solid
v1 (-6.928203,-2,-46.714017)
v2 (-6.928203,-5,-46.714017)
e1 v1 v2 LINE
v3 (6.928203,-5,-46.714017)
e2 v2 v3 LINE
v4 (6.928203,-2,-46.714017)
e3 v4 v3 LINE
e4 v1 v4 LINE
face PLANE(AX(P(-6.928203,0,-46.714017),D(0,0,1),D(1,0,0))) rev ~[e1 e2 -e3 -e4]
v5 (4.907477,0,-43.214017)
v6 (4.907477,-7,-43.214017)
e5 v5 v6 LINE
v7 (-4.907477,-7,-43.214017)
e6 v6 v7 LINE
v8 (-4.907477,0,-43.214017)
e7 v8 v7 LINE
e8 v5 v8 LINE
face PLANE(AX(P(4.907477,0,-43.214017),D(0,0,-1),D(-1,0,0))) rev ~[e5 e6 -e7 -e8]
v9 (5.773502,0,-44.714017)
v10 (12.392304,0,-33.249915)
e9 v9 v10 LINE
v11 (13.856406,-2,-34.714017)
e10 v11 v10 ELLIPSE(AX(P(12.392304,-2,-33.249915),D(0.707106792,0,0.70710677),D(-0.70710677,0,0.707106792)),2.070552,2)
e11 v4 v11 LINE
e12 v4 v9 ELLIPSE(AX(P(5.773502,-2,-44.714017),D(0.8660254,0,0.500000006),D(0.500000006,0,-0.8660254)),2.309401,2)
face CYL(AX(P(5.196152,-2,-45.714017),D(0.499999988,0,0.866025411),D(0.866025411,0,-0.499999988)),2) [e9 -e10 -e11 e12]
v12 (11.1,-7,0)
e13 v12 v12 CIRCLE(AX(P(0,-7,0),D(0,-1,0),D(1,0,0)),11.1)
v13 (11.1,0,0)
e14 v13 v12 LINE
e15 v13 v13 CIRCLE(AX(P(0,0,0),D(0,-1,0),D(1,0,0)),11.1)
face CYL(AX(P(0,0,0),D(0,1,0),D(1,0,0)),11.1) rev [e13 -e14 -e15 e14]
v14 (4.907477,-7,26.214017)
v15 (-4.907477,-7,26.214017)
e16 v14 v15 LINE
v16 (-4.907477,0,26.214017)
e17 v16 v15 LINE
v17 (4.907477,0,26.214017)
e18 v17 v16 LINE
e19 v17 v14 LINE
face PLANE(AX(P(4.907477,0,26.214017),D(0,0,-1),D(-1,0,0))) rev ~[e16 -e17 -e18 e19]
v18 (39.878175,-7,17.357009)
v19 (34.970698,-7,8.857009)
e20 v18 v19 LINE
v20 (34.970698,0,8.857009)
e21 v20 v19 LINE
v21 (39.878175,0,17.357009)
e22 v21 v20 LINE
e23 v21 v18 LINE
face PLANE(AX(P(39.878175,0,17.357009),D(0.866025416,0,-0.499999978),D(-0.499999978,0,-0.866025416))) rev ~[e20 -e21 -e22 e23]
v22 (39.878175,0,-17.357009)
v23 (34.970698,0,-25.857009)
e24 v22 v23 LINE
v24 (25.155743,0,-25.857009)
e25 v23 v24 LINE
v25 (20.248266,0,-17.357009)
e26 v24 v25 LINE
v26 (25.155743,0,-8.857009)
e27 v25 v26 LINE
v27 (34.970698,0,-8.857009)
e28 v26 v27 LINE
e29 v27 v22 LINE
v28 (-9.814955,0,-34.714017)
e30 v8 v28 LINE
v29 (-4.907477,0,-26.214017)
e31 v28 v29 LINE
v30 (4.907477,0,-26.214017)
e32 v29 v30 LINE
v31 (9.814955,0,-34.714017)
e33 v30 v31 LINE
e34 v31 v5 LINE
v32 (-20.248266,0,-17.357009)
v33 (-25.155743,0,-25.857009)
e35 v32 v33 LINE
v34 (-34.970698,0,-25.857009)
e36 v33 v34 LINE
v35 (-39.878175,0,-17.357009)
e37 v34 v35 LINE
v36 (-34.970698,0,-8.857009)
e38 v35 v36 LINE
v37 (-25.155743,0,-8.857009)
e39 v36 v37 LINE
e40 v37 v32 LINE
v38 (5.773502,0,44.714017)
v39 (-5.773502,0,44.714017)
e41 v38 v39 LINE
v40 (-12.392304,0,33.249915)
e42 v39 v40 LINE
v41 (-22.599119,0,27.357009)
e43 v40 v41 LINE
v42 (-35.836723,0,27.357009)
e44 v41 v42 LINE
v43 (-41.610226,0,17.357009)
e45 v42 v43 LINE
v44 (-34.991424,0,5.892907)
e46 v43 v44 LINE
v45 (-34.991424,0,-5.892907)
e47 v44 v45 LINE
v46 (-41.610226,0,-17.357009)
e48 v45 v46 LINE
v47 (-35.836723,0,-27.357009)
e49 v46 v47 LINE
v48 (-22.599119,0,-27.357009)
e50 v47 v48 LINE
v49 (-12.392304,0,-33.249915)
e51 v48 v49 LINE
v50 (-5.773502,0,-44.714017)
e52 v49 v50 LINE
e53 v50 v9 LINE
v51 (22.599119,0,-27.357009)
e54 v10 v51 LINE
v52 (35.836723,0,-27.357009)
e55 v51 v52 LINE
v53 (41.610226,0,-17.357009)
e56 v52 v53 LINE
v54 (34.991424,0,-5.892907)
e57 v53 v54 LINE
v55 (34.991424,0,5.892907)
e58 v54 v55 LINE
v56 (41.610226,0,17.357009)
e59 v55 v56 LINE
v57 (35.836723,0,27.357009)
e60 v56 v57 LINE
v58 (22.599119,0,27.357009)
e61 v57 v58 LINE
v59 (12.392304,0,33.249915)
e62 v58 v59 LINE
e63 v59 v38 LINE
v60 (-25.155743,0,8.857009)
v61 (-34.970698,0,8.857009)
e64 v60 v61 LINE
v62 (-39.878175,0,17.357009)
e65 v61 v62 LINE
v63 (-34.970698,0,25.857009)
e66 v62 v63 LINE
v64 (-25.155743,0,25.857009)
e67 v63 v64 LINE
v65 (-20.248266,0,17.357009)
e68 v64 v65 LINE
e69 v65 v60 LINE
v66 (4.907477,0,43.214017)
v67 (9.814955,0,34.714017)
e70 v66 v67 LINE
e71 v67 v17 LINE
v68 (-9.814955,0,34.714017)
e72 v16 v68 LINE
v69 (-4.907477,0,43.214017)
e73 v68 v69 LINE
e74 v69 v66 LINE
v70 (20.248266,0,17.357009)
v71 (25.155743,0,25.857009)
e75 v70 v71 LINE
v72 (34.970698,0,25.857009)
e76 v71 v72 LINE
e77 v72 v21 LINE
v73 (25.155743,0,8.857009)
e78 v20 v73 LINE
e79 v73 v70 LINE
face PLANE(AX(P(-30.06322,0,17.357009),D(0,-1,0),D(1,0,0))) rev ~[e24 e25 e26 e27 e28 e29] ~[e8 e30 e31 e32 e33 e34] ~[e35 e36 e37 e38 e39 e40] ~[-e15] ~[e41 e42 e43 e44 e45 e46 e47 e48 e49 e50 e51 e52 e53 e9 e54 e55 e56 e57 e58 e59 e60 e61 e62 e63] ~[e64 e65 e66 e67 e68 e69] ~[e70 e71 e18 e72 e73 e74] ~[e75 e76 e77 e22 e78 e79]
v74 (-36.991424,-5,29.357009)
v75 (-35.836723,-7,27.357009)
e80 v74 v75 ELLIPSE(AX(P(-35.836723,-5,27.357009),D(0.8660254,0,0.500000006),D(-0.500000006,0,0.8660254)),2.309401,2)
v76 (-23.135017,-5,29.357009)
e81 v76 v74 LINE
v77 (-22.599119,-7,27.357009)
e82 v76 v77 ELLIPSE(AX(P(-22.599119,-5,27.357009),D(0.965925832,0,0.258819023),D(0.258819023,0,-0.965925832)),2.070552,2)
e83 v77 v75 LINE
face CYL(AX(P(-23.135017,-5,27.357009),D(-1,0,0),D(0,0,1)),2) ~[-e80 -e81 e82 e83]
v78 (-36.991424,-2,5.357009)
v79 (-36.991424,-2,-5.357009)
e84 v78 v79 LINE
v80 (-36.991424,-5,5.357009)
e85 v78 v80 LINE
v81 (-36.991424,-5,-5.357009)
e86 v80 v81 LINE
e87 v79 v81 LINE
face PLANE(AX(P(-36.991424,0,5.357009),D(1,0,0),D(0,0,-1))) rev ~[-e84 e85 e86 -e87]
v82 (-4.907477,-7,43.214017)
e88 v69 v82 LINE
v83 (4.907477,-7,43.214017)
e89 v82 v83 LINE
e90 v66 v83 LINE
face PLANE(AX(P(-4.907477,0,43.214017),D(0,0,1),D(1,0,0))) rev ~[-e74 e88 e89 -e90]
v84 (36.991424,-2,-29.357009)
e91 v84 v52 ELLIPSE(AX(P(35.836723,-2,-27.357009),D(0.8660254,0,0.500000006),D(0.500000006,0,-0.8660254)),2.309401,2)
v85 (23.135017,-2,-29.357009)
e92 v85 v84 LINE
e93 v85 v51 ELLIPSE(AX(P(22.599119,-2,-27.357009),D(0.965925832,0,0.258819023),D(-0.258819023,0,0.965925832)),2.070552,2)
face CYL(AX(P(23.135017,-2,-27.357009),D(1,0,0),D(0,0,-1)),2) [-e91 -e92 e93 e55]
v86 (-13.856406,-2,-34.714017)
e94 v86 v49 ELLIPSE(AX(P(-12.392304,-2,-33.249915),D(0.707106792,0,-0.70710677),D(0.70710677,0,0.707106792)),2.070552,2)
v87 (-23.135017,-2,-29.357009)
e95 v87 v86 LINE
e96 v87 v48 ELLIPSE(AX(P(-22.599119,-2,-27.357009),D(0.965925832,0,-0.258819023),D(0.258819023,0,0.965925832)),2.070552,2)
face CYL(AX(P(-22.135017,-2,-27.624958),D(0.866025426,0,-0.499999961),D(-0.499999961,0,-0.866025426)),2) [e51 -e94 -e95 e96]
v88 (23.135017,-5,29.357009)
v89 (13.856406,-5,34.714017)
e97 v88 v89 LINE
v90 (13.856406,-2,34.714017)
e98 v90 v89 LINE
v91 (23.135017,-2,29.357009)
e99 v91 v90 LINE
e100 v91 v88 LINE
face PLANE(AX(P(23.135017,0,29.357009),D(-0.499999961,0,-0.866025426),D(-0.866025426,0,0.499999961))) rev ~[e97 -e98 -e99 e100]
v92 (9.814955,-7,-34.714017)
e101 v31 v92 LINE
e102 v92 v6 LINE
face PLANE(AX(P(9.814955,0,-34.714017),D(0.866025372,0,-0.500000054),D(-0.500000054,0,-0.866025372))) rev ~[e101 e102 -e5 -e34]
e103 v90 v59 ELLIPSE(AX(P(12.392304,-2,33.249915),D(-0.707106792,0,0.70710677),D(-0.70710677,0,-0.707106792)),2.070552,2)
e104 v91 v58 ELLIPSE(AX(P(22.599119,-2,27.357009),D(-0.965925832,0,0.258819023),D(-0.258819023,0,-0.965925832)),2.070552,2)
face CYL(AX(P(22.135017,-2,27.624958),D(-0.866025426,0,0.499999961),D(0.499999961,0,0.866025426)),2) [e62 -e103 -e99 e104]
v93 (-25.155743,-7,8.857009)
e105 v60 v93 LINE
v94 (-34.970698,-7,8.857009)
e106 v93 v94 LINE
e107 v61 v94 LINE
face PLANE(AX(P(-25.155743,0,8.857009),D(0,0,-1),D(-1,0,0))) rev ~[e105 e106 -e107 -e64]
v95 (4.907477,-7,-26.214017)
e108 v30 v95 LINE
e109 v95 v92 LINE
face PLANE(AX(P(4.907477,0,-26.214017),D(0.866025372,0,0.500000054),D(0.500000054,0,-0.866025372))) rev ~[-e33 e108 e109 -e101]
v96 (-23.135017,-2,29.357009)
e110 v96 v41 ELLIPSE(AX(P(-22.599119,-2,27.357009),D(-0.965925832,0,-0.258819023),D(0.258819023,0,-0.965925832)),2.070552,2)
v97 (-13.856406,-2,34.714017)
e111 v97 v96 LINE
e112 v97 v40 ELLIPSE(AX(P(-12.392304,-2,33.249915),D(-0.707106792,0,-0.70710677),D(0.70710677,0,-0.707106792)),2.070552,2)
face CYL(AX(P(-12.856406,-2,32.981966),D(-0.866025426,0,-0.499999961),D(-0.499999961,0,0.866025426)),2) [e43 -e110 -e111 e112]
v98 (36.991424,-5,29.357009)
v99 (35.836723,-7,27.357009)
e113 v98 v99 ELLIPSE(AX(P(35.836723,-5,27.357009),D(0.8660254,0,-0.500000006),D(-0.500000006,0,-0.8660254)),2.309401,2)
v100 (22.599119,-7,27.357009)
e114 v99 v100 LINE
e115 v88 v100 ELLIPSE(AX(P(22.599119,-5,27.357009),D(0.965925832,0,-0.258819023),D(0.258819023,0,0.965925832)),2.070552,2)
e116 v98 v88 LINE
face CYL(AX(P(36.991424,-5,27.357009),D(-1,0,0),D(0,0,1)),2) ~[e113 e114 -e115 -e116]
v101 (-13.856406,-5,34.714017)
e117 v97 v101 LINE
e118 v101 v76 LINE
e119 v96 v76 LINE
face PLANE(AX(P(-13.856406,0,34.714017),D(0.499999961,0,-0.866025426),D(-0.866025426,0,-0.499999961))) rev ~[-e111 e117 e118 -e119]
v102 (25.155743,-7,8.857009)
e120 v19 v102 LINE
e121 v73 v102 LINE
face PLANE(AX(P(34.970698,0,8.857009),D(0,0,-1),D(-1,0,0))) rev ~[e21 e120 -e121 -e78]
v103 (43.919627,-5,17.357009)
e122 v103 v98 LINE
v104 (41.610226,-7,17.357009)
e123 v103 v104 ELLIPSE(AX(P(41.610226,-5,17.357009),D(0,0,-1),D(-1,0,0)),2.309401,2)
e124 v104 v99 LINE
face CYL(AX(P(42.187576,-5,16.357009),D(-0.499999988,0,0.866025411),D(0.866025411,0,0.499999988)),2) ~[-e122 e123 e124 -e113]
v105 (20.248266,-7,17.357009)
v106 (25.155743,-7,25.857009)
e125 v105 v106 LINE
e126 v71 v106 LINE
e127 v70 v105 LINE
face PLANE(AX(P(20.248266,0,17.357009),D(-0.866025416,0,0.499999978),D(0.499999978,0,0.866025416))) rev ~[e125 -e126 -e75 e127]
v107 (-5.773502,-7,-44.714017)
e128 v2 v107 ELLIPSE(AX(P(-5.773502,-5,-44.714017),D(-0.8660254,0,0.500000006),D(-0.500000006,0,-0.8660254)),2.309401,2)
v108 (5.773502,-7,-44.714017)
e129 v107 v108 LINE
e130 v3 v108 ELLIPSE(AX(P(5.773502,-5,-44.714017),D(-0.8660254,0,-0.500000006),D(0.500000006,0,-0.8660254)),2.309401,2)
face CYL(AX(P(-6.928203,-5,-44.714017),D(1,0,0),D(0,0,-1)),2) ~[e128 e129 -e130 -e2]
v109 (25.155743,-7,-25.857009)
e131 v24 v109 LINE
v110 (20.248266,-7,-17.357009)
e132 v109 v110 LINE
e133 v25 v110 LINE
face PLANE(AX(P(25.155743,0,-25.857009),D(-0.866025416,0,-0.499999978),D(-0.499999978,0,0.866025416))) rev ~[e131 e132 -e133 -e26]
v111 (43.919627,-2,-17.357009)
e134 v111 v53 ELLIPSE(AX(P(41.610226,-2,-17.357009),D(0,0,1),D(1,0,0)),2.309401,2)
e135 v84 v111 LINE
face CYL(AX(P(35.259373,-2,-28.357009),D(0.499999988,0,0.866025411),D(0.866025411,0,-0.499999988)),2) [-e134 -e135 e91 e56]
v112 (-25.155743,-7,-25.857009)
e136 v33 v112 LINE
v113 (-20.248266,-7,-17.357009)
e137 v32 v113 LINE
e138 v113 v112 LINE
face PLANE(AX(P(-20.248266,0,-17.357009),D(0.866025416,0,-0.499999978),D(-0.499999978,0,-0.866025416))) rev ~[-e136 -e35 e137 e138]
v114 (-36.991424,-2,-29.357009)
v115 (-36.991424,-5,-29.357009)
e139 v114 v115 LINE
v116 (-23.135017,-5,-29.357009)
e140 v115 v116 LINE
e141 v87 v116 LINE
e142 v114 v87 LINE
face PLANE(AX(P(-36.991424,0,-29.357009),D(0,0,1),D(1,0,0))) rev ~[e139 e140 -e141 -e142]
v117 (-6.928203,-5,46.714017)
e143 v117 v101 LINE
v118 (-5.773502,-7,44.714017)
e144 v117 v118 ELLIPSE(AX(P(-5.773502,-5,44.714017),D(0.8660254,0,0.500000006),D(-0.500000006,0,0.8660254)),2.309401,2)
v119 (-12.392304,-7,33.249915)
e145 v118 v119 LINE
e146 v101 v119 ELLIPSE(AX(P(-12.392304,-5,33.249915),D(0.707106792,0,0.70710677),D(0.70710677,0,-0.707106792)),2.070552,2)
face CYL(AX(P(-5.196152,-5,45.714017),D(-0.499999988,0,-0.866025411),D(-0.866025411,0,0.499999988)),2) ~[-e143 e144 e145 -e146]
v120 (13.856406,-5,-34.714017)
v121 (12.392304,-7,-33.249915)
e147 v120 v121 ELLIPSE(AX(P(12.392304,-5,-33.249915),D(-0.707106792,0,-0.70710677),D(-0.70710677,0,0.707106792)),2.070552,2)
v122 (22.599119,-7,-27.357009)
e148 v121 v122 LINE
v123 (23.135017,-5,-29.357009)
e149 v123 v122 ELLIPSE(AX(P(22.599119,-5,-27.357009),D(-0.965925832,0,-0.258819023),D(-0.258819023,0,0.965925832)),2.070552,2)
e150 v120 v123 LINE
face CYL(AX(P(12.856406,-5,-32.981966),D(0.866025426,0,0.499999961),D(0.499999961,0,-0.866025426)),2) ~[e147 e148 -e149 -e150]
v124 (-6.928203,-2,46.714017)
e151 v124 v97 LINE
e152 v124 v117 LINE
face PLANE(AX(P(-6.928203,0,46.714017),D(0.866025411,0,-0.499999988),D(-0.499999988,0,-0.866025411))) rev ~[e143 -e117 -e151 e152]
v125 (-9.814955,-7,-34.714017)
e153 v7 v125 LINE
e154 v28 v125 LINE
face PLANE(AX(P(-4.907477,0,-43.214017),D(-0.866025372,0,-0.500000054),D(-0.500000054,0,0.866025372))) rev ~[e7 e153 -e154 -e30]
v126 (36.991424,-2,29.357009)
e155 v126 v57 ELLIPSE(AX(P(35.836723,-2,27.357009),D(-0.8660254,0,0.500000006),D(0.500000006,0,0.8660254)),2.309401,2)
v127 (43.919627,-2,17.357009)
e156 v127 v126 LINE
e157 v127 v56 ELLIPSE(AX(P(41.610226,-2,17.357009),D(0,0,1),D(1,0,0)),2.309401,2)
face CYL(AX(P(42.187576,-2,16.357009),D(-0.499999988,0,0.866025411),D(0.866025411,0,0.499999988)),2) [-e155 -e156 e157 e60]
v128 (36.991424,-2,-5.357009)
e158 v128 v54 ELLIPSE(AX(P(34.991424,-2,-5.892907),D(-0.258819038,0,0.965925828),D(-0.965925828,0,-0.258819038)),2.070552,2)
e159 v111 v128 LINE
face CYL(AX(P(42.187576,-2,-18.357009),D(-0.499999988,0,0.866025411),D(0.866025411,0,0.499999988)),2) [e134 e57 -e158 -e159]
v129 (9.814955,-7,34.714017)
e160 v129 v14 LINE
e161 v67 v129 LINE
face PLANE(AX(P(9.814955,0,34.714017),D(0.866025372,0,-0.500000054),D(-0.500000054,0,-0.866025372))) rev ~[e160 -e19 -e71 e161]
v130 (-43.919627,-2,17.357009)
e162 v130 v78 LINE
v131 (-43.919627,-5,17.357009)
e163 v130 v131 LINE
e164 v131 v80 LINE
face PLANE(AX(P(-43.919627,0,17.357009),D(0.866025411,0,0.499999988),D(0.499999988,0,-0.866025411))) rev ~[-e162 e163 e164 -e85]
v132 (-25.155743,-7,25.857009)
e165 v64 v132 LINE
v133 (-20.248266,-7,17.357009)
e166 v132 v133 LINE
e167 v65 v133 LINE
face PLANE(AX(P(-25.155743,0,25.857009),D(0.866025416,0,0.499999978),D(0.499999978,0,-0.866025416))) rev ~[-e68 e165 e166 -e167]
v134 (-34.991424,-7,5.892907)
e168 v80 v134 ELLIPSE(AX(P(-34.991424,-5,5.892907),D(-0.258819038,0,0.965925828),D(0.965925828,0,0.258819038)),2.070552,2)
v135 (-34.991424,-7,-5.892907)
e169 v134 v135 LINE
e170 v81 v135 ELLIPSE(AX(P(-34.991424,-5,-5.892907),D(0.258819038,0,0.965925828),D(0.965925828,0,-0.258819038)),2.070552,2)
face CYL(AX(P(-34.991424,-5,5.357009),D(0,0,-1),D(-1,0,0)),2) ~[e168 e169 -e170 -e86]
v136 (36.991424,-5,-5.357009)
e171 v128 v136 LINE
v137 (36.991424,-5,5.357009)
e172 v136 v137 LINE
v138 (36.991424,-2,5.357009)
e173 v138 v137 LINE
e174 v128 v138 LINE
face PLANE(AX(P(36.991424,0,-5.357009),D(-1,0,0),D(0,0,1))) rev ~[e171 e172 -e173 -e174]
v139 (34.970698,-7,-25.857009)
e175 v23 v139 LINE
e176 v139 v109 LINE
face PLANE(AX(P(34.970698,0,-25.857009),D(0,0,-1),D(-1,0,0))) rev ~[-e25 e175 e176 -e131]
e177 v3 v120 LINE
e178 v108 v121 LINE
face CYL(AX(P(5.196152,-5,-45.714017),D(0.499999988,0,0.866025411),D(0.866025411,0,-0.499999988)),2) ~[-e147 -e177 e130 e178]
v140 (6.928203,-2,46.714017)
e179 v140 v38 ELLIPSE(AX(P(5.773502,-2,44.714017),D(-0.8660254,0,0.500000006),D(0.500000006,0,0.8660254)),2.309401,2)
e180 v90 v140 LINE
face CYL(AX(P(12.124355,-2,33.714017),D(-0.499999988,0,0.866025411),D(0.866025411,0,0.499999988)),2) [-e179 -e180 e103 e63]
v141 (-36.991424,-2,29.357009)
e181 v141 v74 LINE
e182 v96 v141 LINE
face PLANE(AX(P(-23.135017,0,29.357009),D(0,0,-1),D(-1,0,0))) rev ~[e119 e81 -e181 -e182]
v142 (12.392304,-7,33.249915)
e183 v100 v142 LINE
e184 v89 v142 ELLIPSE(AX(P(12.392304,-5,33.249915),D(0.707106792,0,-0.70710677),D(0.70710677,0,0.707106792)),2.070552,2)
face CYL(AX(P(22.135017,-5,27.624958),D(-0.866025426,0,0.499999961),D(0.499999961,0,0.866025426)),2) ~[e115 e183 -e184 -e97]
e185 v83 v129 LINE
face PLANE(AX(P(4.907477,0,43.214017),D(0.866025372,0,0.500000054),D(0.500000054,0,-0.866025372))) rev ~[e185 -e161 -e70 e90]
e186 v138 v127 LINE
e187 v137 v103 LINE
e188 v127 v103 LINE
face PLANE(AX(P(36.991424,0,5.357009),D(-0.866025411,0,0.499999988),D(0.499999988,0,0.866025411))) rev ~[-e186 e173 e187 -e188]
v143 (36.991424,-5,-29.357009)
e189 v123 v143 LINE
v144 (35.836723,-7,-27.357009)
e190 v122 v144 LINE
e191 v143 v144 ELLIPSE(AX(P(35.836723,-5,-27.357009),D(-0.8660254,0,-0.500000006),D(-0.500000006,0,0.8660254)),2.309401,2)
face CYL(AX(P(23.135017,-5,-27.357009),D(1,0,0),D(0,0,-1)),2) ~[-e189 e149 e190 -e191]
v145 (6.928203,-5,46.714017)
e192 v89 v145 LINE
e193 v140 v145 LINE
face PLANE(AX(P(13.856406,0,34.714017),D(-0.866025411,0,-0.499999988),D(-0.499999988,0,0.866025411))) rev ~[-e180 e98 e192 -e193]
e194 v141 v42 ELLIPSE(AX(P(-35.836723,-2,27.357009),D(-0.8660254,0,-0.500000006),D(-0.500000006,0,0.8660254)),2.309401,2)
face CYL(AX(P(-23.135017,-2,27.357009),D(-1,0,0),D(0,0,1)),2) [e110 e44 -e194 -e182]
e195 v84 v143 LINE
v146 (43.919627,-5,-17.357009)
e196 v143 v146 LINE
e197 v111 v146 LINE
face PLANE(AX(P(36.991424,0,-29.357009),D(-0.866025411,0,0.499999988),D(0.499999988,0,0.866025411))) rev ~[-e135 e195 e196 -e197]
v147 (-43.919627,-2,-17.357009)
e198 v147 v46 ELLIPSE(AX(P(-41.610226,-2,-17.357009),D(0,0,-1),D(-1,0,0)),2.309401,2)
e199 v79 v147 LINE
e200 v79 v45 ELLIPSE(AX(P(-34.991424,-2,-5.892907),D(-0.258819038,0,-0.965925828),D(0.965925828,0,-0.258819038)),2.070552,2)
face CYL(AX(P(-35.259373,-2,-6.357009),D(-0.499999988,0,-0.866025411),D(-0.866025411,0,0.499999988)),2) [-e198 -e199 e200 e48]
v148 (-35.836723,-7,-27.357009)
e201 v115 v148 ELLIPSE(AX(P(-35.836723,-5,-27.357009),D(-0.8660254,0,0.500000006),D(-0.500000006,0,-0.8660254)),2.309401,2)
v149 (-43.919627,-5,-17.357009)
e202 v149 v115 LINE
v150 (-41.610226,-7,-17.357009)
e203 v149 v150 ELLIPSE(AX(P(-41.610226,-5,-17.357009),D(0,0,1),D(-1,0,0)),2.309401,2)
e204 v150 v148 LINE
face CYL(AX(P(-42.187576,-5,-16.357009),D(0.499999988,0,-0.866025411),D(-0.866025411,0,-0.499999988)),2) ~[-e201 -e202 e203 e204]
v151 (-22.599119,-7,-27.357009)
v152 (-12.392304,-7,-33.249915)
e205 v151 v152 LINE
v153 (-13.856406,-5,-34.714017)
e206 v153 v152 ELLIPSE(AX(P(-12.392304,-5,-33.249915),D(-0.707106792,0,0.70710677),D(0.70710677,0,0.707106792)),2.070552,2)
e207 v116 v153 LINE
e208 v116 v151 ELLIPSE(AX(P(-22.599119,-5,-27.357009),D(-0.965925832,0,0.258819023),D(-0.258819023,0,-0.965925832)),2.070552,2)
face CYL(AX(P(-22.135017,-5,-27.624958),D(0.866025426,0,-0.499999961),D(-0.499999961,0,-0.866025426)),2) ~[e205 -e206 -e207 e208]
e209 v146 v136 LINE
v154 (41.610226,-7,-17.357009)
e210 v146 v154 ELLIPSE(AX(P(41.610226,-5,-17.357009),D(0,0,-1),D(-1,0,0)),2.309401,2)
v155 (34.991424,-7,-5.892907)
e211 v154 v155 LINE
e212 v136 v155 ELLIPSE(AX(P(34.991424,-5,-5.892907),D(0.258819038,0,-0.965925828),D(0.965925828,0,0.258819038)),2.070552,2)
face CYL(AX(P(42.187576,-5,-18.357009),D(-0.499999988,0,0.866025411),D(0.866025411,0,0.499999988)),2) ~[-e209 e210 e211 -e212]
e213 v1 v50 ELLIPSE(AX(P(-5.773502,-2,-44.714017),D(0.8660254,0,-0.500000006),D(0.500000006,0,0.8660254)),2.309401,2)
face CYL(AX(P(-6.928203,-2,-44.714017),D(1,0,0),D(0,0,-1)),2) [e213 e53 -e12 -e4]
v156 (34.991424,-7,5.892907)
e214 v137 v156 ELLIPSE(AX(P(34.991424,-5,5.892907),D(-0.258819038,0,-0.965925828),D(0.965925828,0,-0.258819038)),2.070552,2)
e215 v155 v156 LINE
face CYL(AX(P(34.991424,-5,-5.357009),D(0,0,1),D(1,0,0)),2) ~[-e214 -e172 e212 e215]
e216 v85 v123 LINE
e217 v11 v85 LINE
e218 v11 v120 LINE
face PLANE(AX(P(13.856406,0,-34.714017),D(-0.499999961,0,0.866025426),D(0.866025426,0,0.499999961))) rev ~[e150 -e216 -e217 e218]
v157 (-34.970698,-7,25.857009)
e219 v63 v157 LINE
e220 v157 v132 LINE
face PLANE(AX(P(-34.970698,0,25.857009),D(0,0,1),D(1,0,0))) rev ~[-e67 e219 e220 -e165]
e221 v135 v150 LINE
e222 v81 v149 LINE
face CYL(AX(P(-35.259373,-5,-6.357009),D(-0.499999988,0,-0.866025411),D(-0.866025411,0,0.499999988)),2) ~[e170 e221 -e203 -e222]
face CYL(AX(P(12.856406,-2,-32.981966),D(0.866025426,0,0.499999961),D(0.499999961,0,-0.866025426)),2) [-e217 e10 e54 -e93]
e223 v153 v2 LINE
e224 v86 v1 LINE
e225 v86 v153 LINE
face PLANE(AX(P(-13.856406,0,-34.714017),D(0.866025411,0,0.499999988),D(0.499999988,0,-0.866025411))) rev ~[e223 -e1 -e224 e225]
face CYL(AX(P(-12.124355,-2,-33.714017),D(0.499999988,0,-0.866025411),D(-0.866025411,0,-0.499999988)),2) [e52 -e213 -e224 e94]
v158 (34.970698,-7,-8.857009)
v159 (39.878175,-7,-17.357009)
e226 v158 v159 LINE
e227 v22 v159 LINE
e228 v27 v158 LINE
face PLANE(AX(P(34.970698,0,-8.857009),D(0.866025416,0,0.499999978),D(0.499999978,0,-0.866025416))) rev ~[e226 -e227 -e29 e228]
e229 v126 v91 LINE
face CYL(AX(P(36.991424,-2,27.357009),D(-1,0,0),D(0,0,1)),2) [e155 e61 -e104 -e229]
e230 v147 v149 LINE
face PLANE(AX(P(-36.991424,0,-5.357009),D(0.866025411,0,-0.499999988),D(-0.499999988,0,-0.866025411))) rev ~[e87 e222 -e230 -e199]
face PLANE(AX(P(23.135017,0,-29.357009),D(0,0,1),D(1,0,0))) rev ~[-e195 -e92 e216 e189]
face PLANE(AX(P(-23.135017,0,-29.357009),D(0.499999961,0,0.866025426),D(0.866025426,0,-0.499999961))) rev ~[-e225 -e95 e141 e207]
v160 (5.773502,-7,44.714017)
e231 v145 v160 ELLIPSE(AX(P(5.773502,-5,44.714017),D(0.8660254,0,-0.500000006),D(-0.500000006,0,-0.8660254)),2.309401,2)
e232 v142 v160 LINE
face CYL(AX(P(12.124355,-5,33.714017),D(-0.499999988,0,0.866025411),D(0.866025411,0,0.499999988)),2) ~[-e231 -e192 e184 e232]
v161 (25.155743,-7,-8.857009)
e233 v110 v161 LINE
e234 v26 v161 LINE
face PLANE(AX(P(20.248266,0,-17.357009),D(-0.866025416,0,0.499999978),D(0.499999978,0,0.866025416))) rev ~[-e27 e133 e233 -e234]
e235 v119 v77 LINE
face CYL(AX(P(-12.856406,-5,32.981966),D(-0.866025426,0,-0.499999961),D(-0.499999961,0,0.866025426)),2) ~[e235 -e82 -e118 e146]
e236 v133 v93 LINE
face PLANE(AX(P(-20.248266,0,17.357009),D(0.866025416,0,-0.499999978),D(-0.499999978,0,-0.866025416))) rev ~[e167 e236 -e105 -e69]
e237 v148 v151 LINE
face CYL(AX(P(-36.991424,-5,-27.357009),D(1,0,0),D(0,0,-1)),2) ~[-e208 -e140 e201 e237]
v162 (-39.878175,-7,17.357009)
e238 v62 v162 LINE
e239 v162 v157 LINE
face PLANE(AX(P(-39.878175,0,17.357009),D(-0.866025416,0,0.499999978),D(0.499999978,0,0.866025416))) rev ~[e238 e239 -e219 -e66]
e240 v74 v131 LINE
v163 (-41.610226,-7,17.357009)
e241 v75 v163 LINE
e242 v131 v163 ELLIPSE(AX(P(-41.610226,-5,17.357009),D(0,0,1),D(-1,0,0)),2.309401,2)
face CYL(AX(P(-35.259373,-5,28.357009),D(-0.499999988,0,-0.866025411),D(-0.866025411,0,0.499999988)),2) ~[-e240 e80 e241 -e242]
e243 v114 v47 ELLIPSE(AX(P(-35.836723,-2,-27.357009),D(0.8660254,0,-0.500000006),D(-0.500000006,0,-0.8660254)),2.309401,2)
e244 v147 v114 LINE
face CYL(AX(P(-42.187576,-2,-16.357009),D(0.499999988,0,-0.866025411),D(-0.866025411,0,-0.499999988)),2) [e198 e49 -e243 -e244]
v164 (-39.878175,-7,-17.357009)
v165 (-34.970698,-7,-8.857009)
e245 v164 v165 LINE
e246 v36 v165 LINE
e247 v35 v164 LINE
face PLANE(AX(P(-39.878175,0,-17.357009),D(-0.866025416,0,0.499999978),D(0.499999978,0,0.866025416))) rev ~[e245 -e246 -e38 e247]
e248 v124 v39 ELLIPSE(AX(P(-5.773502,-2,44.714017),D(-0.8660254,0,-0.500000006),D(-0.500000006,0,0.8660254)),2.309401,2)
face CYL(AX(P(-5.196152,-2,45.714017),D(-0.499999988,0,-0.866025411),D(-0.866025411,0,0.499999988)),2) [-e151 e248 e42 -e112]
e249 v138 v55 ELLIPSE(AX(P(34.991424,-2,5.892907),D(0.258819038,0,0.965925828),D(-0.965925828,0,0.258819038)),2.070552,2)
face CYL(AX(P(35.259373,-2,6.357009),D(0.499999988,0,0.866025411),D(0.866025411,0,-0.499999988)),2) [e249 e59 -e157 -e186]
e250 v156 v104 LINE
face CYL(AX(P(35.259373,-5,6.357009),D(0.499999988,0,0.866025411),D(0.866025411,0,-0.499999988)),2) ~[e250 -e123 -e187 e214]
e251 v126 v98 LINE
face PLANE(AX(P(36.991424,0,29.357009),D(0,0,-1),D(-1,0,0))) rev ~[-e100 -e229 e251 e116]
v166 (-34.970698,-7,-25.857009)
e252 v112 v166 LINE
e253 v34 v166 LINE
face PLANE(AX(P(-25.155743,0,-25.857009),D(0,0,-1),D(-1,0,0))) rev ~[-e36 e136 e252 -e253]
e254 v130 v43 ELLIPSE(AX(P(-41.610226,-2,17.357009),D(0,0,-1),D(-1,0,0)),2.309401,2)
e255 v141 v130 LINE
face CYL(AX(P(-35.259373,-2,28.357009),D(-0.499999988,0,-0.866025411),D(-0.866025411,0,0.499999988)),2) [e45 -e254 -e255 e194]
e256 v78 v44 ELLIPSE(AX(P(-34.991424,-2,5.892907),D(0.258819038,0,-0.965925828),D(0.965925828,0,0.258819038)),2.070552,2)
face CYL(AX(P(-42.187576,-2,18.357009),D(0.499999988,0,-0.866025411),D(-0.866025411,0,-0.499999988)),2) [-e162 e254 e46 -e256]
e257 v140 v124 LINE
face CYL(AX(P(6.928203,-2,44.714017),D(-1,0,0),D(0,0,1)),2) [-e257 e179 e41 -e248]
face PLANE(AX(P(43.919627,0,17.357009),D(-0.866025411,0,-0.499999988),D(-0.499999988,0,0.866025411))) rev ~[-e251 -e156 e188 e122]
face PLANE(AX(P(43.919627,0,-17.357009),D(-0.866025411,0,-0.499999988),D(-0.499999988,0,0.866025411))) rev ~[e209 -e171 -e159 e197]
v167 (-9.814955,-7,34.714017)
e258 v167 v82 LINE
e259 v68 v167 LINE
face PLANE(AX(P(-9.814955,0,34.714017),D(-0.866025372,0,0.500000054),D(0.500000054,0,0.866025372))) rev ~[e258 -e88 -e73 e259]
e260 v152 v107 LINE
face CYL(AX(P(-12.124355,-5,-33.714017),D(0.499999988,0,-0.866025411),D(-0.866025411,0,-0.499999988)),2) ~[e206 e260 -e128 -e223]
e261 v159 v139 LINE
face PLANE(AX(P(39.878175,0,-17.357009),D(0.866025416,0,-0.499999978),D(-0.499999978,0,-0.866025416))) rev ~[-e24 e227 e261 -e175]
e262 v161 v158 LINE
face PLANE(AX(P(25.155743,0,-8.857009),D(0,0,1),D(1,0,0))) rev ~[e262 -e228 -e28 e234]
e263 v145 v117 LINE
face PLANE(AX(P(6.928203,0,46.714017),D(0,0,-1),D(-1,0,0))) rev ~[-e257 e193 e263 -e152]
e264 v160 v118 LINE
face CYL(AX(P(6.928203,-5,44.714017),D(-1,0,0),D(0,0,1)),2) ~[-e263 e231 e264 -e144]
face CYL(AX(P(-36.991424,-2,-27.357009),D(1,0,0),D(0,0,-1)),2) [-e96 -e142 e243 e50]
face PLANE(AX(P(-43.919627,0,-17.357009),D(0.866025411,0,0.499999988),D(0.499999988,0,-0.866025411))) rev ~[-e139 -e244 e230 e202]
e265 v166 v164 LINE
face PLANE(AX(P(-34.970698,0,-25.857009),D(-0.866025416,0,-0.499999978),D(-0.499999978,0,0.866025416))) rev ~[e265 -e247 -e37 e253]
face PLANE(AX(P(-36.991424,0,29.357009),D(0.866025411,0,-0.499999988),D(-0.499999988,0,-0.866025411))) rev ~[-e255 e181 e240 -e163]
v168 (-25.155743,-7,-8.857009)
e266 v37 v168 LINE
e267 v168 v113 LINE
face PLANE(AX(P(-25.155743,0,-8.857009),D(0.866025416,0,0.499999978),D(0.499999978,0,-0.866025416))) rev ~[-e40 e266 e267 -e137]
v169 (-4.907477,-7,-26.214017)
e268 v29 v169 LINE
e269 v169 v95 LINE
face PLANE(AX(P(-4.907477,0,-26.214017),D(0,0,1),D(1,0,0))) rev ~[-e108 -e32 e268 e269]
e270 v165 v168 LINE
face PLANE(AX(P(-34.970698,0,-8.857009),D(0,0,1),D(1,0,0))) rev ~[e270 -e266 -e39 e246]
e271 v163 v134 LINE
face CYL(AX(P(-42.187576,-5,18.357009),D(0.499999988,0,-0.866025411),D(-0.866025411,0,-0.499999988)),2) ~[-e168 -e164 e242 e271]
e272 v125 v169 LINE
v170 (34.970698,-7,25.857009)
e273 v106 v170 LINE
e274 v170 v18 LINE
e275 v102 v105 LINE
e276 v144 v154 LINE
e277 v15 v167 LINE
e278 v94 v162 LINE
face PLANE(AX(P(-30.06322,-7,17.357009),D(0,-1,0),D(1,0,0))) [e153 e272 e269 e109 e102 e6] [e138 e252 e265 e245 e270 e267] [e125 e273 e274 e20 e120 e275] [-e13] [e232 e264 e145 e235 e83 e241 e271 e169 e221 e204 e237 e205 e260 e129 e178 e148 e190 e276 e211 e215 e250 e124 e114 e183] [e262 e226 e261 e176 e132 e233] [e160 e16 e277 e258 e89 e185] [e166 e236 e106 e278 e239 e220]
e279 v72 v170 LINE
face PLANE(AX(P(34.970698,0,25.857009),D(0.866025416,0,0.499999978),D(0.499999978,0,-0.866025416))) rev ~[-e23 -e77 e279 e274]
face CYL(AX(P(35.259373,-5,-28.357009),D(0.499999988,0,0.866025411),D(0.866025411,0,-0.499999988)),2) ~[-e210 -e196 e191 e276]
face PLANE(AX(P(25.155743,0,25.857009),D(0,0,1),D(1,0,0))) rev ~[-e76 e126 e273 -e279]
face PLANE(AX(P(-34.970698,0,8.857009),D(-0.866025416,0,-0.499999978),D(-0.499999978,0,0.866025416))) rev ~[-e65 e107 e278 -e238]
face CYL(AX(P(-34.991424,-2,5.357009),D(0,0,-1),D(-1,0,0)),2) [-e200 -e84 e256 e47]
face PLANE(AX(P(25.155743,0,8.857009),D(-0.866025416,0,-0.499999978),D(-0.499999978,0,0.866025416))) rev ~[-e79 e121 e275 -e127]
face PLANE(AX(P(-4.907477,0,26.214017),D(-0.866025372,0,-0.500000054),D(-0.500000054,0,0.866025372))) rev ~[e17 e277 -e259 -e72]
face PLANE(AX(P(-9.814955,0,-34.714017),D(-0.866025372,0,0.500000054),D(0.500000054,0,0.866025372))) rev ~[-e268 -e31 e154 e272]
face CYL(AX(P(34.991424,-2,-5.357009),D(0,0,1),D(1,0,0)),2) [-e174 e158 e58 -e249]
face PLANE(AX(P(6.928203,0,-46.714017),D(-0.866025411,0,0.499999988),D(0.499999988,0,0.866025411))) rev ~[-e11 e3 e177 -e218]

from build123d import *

# Parameters (mm, degrees)
F0_R     = 14.5
F0_R_2   = 11.1
F1_DEPTH = 7
F2_R     = 2


with BuildPart() as f1:
    # F0 (on Front) → F1 (new body)
    with BuildSketch(Plane.XZ):
        Polygon((-16.206814, 17.357009), (-23.135017, 29.357009), (-36.991424, 29.357009), (-43.919627, 17.357009), (-36.991424, 5.357009), (-23.135017, 5.357009), align=None)
        Polygon((-34.970698, 25.857009), (-25.155743, 25.857009), (-20.248266, 17.357009), (-25.155743, 8.857009), (-34.970698, 8.857009), (-39.878175, 17.357009), align=None, mode=Mode.SUBTRACT)
        Polygon((-6.928203, 22.714017), (6.928203, 22.714017), (13.856406, 34.714017), (6.928203, 46.714017), (-6.928203, 46.714017), (-13.856406, 34.714017), align=None)
        Polygon((9.814955, 34.714017), (4.907477, 26.214017), (-4.907477, 26.214017), (-9.814955, 34.714017), (-4.907477, 43.214017), (4.907477, 43.214017), align=None, mode=Mode.SUBTRACT)
        Polygon((13.856406, 34.714017), (6.928203, 22.714017), (-6.928203, 22.714017), (-13.856406, 34.714017), (-23.135017, 29.357009), (-16.206814, 17.357009), (-23.135017, 5.357009), (-36.991424, 5.357009), (-36.991424, -5.357009), (-23.135017, -5.357009), (-16.206814, -17.357009), (-23.135017, -29.357009), (-13.856406, -34.714017), (-6.928203, -22.714017), (6.928203, -22.714017), (13.856406, -34.714017), (23.135017, -29.357009), (16.206814, -17.357009), (23.135017, -5.357009), (36.991424, -5.357009), (36.991424, 5.357009), (23.135017, 5.357009), (16.206814, 17.357009), (23.135017, 29.357009), align=None)
        Circle(F0_R, mode=Mode.SUBTRACT)
        Circle(F0_R)
        Circle(F0_R_2, mode=Mode.SUBTRACT)
        Polygon((-23.135017, -5.357009), (-36.991424, -5.357009), (-43.919627, -17.357009), (-36.991424, -29.357009), (-23.135017, -29.357009), (-16.206814, -17.357009), align=None)
        Polygon((-39.878175, -17.357009), (-34.970698, -8.857009), (-25.155743, -8.857009), (-20.248266, -17.357009), (-25.155743, -25.857009), (-34.970698, -25.857009), align=None, mode=Mode.SUBTRACT)
        Polygon((6.928203, -46.714017), (13.856406, -34.714017), (6.928203, -22.714017), (-6.928203, -22.714017), (-13.856406, -34.714017), (-6.928203, -46.714017), align=None)
        Polygon((-4.907477, -43.214017), (-9.814955, -34.714017), (-4.907477, -26.214017), (4.907477, -26.214017), (9.814955, -34.714017), (4.907477, -43.214017), align=None, mode=Mode.SUBTRACT)
        Polygon((43.919627, -17.357009), (36.991424, -5.357009), (23.135017, -5.357009), (16.206814, -17.357009), (23.135017, -29.357009), (36.991424, -29.357009), align=None)
        Polygon((34.970698, -25.857009), (25.155743, -25.857009), (20.248266, -17.357009), (25.155743, -8.857009), (34.970698, -8.857009), (39.878175, -17.357009), align=None, mode=Mode.SUBTRACT)
        Polygon((36.991424, 29.357009), (23.135017, 29.357009), (16.206814, 17.357009), (23.135017, 5.357009), (36.991424, 5.357009), (43.919627, 17.357009), align=None)
        Polygon((39.878175, 17.357009), (34.970698, 8.857009), (25.155743, 8.857009), (20.248266, 17.357009), (25.155743, 25.857009), (34.970698, 25.857009), align=None, mode=Mode.SUBTRACT)
    extrude(amount=F1_DEPTH)

    # F2
    f2_edges = [f1.edges().sort_by_distance(p)[0] for p in [
        (0, -7, 46.714017),
        (10.392305, -7, 40.714017),
        (18.495712, -7, 32.035513),
        (30.063221, -7, 29.357009),
        (40.455525, -7, 23.357009),
        (40.455525, -7, 11.357009),
        (36.991424, -7, 0),
        (40.455525, -7, -11.357009),
        (40.455525, -7, -23.357009),
        (-10.392305, -7, 40.714017),
        (-18.495712, -7, 32.035513),
        (-30.063221, -7, 29.357009),
        (-40.455525, -7, 23.357009),
        (-40.455525, -7, 11.357009),
        (-36.991424, -7, 0),
        (-40.455525, -7, -11.357009),
        (-40.455525, -7, -23.357009),
        (-18.495712, -7, -32.035513),
        (-10.392305, -7, -40.714017),
        (0, -7, -46.714017),
        (10.392305, -7, -40.714017),
        (18.495712, -7, -32.035513),
        (30.063221, -7, -29.357009),
        (-30.063221, -7, -29.357009),
        (0, 0, -46.714017),
        (10.392305, 0, -40.714017),
        (18.495712, 0, -32.035513),
        (30.063221, 0, -29.357009),
        (40.455525, 0, -23.357009),
        (40.455525, 0, -11.357009),
        (36.991424, 0, 0),
        (40.455525, 0, 11.357009),
        (40.455525, 0, 23.357009),
        (30.063221, 0, 29.357009),
        (18.495712, 0, 32.035513),
        (10.392305, 0, 40.714017),
        (0, 0, 46.714017),
        (-10.392305, 0, 40.714017),
        (-18.495712, 0, 32.035513),
        (-30.063221, 0, 29.357009),
        (-40.455525, 0, 23.357009),
        (-40.455525, 0, 11.357009),
        (-36.991424, 0, 0),
        (-40.455525, 0, -11.357009),
        (-40.455525, 0, -23.357009),
        (-30.063221, 0, -29.357009),
        (-18.495712, 0, -32.035513),
        (-10.392305, 0, -40.714017),
    ]]
    fillet(f2_edges, radius=F2_R)


solid = f1.part
